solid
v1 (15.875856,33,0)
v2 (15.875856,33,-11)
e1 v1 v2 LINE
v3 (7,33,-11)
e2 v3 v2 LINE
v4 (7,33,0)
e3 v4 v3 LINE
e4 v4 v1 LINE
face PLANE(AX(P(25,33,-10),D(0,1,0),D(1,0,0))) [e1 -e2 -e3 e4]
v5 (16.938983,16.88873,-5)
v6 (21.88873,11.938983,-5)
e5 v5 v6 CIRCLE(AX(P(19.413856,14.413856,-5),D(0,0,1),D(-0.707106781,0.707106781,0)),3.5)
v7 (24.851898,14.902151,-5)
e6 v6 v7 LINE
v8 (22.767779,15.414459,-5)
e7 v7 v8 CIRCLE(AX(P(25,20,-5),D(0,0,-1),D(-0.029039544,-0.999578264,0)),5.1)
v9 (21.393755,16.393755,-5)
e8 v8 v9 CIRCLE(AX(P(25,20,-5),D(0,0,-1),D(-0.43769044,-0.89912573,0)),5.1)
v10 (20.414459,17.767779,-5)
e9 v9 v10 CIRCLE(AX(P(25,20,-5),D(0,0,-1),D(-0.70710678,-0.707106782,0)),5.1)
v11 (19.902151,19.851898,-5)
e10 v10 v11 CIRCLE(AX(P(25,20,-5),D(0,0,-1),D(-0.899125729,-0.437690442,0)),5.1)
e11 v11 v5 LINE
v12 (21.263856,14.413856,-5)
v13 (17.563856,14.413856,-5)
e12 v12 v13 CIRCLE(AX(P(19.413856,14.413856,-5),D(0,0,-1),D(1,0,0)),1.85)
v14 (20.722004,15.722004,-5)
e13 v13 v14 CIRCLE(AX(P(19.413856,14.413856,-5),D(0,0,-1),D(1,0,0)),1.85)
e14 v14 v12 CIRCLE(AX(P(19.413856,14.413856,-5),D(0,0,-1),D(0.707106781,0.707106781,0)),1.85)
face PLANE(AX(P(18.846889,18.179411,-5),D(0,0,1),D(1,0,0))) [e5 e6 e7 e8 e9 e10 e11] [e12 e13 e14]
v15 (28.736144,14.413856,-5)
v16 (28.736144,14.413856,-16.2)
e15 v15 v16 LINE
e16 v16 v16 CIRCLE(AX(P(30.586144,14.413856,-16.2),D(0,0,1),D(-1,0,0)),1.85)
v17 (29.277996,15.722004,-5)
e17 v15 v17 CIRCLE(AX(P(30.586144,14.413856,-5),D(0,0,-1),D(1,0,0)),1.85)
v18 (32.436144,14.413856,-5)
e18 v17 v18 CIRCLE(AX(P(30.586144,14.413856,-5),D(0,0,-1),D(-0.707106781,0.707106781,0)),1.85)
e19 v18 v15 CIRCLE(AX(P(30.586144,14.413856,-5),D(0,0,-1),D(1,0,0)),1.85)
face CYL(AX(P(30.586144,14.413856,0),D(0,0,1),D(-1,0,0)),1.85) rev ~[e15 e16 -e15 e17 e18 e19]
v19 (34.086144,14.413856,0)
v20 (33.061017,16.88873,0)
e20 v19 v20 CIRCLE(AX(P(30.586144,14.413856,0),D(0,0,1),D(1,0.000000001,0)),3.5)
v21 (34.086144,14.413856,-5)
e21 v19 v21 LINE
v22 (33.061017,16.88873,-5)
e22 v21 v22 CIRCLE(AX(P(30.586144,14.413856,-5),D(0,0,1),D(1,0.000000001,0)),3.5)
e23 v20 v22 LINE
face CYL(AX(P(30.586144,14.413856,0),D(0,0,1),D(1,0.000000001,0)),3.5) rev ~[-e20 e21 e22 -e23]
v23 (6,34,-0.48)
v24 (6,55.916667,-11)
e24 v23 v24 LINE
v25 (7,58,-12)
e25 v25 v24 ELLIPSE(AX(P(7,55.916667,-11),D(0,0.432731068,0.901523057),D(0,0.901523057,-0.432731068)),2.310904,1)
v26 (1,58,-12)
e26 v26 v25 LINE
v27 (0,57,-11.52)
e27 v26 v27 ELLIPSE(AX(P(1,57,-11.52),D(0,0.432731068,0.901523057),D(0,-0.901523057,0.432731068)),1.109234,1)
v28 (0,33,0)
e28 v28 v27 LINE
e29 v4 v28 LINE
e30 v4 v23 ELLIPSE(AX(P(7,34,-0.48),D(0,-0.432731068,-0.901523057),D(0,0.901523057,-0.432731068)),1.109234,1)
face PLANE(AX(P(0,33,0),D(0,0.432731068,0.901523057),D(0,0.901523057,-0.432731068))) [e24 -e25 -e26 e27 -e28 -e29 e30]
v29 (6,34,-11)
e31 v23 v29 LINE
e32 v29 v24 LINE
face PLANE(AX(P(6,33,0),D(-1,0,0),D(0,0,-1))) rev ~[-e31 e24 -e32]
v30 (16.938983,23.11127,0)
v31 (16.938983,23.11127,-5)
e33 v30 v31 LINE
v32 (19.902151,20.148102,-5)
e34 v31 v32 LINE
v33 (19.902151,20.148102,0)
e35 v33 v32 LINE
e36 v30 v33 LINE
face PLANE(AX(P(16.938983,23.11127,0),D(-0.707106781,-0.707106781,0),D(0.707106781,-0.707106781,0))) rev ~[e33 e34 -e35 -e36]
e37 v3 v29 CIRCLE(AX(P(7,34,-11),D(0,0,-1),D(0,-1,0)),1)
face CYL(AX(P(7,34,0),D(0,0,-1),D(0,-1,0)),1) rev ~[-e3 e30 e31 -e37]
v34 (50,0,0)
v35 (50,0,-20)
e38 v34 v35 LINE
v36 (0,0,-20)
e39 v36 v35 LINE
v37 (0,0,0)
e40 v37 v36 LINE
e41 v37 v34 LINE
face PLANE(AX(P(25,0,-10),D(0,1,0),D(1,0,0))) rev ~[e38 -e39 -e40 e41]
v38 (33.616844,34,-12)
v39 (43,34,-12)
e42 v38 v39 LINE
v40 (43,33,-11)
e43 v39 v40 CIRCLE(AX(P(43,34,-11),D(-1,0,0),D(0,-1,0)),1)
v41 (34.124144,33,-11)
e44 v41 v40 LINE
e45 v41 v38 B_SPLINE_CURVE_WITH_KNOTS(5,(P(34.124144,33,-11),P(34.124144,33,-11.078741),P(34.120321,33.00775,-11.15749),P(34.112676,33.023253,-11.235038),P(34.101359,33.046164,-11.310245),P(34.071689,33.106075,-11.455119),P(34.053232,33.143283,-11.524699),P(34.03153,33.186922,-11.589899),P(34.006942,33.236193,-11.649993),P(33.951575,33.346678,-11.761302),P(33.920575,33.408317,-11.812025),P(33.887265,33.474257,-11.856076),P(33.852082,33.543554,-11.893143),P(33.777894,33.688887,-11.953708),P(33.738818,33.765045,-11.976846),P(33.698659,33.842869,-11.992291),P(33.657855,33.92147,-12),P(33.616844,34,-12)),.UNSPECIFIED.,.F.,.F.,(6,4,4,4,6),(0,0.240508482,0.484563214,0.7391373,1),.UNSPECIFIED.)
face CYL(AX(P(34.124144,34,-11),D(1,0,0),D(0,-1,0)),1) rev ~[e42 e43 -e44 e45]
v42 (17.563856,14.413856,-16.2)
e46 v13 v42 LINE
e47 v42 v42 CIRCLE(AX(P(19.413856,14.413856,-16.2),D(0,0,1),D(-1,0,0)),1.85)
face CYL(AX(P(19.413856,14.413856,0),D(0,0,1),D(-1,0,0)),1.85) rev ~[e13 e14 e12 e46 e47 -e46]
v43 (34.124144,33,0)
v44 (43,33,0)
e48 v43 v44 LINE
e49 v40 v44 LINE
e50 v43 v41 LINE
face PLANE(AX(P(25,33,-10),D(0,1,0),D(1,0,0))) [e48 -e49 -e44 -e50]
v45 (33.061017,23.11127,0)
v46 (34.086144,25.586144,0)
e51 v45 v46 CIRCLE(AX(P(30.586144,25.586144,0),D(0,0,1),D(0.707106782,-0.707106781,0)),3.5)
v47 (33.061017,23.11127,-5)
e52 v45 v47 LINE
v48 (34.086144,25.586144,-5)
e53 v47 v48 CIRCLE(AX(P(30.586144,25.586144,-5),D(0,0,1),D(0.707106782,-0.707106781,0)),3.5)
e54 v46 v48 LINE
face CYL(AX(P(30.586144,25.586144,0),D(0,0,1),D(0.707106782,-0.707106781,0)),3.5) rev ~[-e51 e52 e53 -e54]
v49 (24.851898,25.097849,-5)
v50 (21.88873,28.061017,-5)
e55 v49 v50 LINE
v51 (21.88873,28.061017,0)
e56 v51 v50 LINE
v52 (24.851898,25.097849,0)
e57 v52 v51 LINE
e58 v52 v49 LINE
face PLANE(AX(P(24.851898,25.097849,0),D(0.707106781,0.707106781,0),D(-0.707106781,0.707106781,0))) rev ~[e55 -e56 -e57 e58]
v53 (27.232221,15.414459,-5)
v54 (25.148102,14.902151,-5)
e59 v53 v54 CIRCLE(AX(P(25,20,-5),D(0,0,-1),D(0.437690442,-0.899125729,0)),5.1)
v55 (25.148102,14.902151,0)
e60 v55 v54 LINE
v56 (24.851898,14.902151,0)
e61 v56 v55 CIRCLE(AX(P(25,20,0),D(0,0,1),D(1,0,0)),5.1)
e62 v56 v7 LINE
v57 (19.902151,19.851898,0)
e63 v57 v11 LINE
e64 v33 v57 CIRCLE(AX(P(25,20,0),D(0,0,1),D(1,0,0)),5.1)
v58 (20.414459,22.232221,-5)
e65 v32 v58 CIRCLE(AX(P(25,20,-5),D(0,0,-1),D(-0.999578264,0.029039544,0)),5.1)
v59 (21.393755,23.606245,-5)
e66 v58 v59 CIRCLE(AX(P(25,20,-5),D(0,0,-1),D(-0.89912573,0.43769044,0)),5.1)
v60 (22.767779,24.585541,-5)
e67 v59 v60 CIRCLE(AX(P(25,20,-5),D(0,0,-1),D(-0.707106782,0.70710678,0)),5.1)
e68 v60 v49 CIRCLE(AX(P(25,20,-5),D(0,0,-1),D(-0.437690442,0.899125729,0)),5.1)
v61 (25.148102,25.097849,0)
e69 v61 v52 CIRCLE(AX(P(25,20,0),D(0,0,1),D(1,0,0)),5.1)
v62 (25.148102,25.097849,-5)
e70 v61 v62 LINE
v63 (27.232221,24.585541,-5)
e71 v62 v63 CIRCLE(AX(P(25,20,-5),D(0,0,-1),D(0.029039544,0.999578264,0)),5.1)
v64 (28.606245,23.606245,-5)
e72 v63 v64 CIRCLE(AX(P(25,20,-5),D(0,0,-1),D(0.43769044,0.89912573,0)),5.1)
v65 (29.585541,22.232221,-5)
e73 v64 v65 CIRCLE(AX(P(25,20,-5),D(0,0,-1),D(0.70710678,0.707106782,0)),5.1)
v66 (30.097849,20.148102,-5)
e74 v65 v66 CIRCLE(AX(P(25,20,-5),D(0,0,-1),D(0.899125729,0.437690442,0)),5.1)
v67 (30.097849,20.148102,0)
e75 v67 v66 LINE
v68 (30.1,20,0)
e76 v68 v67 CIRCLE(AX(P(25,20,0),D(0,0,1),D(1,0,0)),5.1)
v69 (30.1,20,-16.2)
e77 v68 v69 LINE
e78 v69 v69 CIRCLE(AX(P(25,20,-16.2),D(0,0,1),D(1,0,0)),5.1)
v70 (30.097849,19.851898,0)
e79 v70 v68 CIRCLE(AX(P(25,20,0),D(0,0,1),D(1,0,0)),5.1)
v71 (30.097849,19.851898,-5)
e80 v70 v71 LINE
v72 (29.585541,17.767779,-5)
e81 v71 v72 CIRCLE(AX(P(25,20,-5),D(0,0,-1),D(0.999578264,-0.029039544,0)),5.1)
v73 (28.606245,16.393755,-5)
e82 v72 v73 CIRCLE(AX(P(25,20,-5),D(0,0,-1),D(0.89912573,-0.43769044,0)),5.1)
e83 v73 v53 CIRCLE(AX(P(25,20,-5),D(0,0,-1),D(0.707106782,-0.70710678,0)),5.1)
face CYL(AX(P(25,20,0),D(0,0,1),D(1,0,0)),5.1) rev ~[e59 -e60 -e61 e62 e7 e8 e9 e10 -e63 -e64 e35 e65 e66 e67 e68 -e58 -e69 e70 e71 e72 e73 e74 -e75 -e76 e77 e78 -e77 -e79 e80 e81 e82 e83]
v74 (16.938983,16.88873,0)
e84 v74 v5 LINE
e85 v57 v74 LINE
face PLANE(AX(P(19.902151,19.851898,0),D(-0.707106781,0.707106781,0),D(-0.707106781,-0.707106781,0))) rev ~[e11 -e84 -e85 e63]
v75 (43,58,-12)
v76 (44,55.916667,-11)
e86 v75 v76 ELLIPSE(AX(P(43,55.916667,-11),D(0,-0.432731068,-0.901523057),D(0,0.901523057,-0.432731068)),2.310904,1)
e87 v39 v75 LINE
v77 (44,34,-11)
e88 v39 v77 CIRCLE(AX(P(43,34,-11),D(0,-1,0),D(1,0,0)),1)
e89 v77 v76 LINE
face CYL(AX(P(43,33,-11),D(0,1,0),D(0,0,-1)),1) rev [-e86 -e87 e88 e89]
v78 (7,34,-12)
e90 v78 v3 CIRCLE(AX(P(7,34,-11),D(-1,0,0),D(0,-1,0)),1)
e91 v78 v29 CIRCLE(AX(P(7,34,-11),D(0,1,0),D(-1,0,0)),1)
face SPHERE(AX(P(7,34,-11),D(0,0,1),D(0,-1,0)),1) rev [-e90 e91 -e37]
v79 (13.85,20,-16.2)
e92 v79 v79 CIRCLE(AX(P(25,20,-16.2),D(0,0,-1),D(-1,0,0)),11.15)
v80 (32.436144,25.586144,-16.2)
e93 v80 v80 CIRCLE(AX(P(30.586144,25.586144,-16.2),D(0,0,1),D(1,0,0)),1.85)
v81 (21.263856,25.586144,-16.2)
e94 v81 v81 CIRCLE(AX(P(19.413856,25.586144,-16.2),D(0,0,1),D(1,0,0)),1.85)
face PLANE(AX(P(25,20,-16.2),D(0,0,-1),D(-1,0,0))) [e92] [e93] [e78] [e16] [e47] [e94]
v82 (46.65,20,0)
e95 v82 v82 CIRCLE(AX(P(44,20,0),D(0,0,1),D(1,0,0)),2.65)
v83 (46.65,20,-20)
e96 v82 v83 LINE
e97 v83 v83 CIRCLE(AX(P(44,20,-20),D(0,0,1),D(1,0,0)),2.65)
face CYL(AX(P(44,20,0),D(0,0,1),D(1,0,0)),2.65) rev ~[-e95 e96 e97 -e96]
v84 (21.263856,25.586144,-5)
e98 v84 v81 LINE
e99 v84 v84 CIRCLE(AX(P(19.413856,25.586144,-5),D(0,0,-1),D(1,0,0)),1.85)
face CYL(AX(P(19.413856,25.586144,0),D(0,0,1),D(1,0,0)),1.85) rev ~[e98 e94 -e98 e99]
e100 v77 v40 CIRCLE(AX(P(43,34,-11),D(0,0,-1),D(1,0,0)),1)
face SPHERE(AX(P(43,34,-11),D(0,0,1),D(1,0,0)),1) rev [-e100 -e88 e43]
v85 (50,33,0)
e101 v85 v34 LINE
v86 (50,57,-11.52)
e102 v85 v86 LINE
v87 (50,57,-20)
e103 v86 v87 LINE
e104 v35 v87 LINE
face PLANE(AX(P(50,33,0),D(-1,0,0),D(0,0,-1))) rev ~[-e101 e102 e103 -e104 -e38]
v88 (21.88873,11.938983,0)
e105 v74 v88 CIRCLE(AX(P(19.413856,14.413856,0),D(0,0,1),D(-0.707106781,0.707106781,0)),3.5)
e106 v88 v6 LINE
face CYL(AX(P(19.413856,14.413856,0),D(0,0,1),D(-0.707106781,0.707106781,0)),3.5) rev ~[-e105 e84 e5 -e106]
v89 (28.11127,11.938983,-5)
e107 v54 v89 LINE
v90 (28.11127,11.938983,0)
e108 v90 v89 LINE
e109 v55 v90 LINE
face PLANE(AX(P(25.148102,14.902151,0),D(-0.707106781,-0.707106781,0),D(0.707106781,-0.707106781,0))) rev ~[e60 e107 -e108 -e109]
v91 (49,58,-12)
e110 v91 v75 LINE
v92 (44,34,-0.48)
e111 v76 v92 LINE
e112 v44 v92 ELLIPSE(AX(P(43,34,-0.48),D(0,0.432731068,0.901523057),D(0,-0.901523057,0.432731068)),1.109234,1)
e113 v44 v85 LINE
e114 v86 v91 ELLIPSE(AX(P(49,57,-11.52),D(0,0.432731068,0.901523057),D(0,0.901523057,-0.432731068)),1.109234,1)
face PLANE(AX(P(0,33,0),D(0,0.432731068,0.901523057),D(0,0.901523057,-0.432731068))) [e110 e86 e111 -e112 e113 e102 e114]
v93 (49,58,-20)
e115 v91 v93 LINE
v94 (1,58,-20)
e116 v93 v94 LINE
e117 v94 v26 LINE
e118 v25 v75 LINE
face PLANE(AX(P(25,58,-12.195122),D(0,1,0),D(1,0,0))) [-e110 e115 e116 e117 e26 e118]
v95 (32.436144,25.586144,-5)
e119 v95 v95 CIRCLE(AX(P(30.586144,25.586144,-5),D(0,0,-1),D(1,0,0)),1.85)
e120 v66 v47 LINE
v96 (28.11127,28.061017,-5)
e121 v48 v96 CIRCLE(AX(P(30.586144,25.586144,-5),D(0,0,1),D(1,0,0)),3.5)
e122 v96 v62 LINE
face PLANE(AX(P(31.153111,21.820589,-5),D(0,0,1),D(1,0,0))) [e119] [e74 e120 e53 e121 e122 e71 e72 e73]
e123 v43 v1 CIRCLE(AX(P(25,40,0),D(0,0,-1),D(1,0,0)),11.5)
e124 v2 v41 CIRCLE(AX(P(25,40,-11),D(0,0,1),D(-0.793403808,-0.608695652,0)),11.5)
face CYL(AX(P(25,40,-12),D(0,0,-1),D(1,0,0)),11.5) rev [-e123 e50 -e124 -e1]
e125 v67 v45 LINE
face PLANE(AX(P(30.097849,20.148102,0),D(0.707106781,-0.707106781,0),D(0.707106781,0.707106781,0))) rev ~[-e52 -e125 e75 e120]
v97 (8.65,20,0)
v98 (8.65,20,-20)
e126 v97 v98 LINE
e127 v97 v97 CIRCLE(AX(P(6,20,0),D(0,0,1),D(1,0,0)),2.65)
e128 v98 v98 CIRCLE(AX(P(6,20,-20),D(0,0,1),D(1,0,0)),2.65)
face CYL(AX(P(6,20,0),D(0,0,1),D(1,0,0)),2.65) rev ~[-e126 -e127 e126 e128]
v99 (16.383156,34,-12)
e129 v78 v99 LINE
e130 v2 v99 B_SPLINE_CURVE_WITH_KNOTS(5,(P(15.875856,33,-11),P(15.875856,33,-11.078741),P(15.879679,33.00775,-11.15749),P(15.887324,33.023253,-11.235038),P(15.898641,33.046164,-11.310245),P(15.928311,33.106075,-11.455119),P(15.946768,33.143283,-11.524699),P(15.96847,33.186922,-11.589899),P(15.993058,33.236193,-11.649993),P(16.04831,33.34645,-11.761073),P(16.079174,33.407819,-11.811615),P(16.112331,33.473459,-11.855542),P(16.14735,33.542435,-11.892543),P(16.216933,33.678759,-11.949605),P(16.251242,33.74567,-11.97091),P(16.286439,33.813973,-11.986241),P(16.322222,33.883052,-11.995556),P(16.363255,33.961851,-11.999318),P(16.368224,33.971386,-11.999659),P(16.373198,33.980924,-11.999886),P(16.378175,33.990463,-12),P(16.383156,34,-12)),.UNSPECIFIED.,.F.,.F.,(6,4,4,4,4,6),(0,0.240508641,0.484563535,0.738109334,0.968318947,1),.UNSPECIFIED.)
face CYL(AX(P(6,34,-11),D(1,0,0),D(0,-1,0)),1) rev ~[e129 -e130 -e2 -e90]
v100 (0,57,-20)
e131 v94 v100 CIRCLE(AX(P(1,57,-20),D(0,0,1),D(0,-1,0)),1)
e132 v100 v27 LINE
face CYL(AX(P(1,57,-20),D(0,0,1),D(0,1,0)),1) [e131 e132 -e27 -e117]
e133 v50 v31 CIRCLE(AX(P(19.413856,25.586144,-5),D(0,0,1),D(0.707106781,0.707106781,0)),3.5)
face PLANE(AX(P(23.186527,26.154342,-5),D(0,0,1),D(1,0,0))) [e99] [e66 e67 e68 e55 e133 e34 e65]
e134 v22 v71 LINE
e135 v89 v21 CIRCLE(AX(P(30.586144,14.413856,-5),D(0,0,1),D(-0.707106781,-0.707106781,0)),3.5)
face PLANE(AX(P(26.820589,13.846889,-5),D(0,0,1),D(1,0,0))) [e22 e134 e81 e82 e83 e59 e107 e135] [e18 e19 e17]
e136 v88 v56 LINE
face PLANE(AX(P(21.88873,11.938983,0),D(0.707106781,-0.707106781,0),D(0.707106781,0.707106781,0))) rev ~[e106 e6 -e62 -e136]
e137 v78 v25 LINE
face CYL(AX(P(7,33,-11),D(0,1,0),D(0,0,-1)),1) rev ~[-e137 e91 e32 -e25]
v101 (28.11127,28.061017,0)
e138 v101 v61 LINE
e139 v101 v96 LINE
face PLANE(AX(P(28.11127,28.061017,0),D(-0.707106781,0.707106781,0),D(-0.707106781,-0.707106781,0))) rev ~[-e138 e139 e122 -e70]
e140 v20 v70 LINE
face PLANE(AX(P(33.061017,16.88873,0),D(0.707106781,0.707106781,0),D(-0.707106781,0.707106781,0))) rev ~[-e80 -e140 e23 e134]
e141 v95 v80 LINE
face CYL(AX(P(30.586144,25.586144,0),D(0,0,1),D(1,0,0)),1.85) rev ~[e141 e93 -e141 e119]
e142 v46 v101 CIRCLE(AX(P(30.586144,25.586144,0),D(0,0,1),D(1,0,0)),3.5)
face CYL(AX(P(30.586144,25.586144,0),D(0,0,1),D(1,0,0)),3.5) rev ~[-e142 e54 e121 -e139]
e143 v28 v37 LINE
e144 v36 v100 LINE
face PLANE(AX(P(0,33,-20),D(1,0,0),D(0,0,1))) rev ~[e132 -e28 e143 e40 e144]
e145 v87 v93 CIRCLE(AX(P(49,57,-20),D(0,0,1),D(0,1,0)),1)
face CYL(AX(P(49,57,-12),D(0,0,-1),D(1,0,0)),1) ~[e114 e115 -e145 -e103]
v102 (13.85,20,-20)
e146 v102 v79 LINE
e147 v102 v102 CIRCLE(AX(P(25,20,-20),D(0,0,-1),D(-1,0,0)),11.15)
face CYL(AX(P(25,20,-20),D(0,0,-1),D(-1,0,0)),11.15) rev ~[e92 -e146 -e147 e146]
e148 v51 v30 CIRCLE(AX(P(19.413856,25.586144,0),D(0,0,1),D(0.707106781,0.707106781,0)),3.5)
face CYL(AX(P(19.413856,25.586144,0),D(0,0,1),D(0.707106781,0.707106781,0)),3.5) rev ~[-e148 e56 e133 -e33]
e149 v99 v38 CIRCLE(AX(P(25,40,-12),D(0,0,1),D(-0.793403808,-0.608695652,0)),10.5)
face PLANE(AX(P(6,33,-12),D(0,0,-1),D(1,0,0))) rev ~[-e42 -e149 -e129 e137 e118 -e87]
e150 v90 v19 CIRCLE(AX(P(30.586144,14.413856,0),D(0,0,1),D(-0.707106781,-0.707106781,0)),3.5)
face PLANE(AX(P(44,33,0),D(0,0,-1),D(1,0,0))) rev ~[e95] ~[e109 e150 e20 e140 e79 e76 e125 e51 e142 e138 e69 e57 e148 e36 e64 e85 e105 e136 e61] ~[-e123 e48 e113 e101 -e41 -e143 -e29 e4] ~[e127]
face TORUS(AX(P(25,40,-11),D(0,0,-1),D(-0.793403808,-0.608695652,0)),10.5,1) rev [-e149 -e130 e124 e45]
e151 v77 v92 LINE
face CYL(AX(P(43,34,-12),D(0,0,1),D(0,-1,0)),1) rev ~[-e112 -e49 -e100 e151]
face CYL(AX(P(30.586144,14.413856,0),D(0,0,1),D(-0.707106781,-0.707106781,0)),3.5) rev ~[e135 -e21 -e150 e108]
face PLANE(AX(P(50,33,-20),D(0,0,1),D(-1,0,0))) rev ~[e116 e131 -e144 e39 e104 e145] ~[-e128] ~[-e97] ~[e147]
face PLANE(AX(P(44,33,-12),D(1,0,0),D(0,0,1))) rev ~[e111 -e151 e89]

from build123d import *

# Parameters (mm, degrees)
SKETCH1_W           = 50
SKETCH1_H           = 20
BOSS_EXTRUDE1_DEPTH = 33
SKETCH2_R           = 2.65
CUT_EXTRUDE1_DEPTH  = 64.158530699
BOSS_EXTRUDE2_DEPTH = 25
CUT_EXTRUDE8_DEPTH  = 80.14543575
SKETCH10_R          = 11.5
CUT_EXTRUDE10_DEPTH = 78.5112895
FILLET1_R           = 1
SKETCH3_R           = 5.1
SKETCH3_R_2         = 1.85
CUT_EXTRUDE11_DEPTH = 80.14543575
SKETCH11_R          = 11.15
CUT_EXTRUDE12_DEPTH = 3.8
CUT_EXTRUDE14_DEPTH = 5


with BuildPart() as part:
    # Sketch1 → Boss-Extrude1 (new body)
    with BuildSketch(Plane(origin=(0, 0, 0), x_dir=(1, 0, 0), z_dir=(0, 1, 0))):
        with Locations((25, 10)):
            Rectangle(SKETCH1_W, SKETCH1_H)
    extrude(amount=BOSS_EXTRUDE1_DEPTH)

    # Sketch2 → Cut-Extrude1 (cut, through all)
    with BuildSketch(Plane.XY):
        with Locations((6, 20)):
            Circle(SKETCH2_R)
        with Locations((44, 20)):
            Circle(SKETCH2_R)
    extrude(amount=-CUT_EXTRUDE1_DEPTH, mode=Mode.SUBTRACT)

    # Sketch7 → Boss-Extrude2 (add)
    with BuildSketch(Plane(origin=(0, 33, 0), x_dir=(1, 0, 0), z_dir=(0, 1, 0))):
        Polygon((50, 0), (50, 20), (0, 20), (0, 0), (6, 0), (6, 12), (44, 12), (44, 0), align=None)
    extrude(amount=BOSS_EXTRUDE2_DEPTH)

    # Sketch8 → Cut-Extrude8 (cut, through all)
    with BuildSketch(Plane.ZY):
        Polygon((0, 58), (0, 33), (-12, 58), align=None)
    extrude(amount=-CUT_EXTRUDE8_DEPTH, mode=Mode.SUBTRACT)

    # Sketch10 → Cut-Extrude10 (cut, through all)
    with BuildSketch(Plane.XY.offset(-12)):
        with Locations((25, 40)):
            Circle(SKETCH10_R)
    extrude(amount=CUT_EXTRUDE10_DEPTH, mode=Mode.SUBTRACT)

    # Fillet1
    fillet1_edges = [part.edges().sort_by_distance(p)[0] for p in [
        (6, 33, -6),
        (10.937928102, 33, -12),
        (6, 45.5, -12),
        (44, 33, -6),
        (44, 45.5, -12),
        (0, 58, -16),
        (50, 58, -16),
        (39.062071898, 33, -12),
        (25, 28.5, -12),
    ]]
    fillet(fillet1_edges, radius=FILLET1_R)

    # Sketch3 → Cut-Extrude11 (cut, through all)
    with BuildSketch(Plane.XY):
        with Locations((25, 20)):
            Circle(SKETCH3_R)
        with Locations((19.413856429, 25.586143571)):
            Circle(SKETCH3_R_2)
        with Locations((30.586143571, 25.586143571)):
            Circle(SKETCH3_R_2)
        with Locations(Location((30.586143571, 14.413856429, 0), (0, 0, 180))):
            Circle(SKETCH3_R_2)
        with Locations(Location((19.413856429, 14.413856429, 0), (0, 0, 180))):
            Circle(SKETCH3_R_2)
    extrude(amount=-CUT_EXTRUDE11_DEPTH, mode=Mode.SUBTRACT)

    # Sketch11 → Cut-Extrude12 (cut)
    with BuildSketch(Plane(origin=(0, 0, -20), x_dir=(-1, 0, 0), z_dir=(0, 0, -1))):
        with Locations((-25, 20)):
            Circle(SKETCH11_R)
    extrude(amount=-CUT_EXTRUDE12_DEPTH, mode=Mode.SUBTRACT)

    # Sketch12 → Cut-Extrude14 (cut)
    # profile 1 of 16: a face of its own
    with BuildSketch(Plane.XY):
        with BuildLine():
            ThreePointArc((21.888730163, 28.061017306), (16.938982694, 28.061017306), (16.938982694, 23.111269837))
            Line((16.938982694, 23.111269837), (19.413856429, 25.586143571))
            Line((19.413856429, 25.586143571), (21.888730163, 28.061017306))
        make_face()
    # profile 2 of 16: a face of its own
    with BuildSketch(Plane.XY):
        with BuildLine():
            Line((21.888730163, 28.061017306), (19.413856429, 25.586143571))
            Line((19.413856429, 25.586143571), (21.393755416, 23.606244584))
            ThreePointArc((21.393755416, 23.606244584), (22.039987111, 24.153110124), (22.76777875, 24.585541221))
            ThreePointArc((22.76777875, 24.585541221), (22.877144471, 25.080539044), (22.913856429, 25.586143571))
            ThreePointArc((22.913856429, 25.586143571), (22.647434792, 26.925535585), (21.888730163, 28.061017306))
        make_face()
    # profile 3 of 16: a face of its own
    with BuildSketch(Plane.XY):
        with BuildLine():
            Line((24.851898324, 25.097849144), (21.888730163, 28.061017306))
            ThreePointArc((21.888730163, 28.061017306), (22.647434792, 26.925535585), (22.913856429, 25.586143571))
            ThreePointArc((22.913856429, 25.586143571), (22.877144471, 25.080539044), (22.76777875, 24.585541221))
            ThreePointArc((22.76777875, 24.585541221), (23.78258505, 24.952565077), (24.851898324, 25.097849144))
        make_face()
    # profile 4 of 16: a face of its own
    with BuildSketch(Plane.XY):
        with BuildLine():
            Line((19.413856429, 25.586143571), (16.938982694, 23.111269837))
            ThreePointArc((16.938982694, 23.111269837), (18.555631148, 22.192996158), (20.414458779, 22.23222125))
            ThreePointArc((20.414458779, 22.23222125), (20.846889876, 22.960012889), (21.393755416, 23.606244584))
            Line((21.393755416, 23.606244584), (19.413856429, 25.586143571))
        make_face()
    # profile 5 of 16: a face of its own
    with BuildSketch(Plane.XY):
        with BuildLine():
            Line((16.938982694, 23.111269837), (19.902150856, 20.148101676))
            ThreePointArc((19.902150856, 20.148101676), (20.047434923, 21.21741495), (20.414458779, 22.23222125))
            ThreePointArc((20.414458779, 22.23222125), (18.555631148, 22.192996158), (16.938982694, 23.111269837))
        make_face()
    # profile 6 of 16: a face of its own
    with BuildSketch(Plane.XY):
        with BuildLine():
            ThreePointArc((25.148101676, 25.097849144), (26.21741495, 24.952565077), (27.23222125, 24.585541221))
            ThreePointArc((27.23222125, 24.585541221), (27.192996158, 26.444368852), (28.111269837, 28.061017306))
            Line((28.111269837, 28.061017306), (25.148101676, 25.097849144))
        make_face()
    # profile 7 of 16: a face of its own
    with BuildSketch(Plane.XY):
        with BuildLine():
            ThreePointArc((27.23222125, 24.585541221), (27.960012889, 24.153110124), (28.606244584, 23.606244584))
            Line((28.606244584, 23.606244584), (30.586143571, 25.586143571))
            Line((30.586143571, 25.586143571), (28.111269837, 28.061017306))
            ThreePointArc((28.111269837, 28.061017306), (27.192996158, 26.444368852), (27.23222125, 24.585541221))
        make_face()
    # profile 8 of 16: a face of its own
    with BuildSketch(Plane.XY):
        with BuildLine():
            Line((28.111269837, 28.061017306), (30.586143571, 25.586143571))
            Line((30.586143571, 25.586143571), (33.061017306, 23.111269837))
            ThreePointArc((33.061017306, 23.111269837), (33.819721935, 24.246751558), (34.086143571, 25.586143571))
            ThreePointArc((34.086143571, 25.586143571), (31.925535585, 28.819721935), (28.111269837, 28.061017306))
        make_face()
    # profile 9 of 16: a face of its own
    with BuildSketch(Plane.XY):
        with BuildLine():
            Line((30.586143571, 25.586143571), (28.606244584, 23.606244584))
            ThreePointArc((28.606244584, 23.606244584), (29.153110124, 22.960012889), (29.585541221, 22.23222125))
            ThreePointArc((29.585541221, 22.23222125), (31.444368852, 22.192996158), (33.061017306, 23.111269837))
            Line((33.061017306, 23.111269837), (30.586143571, 25.586143571))
        make_face()
    # profile 10 of 16: a face of its own
    with BuildSketch(Plane.XY):
        with BuildLine():
            ThreePointArc((33.061017306, 23.111269837), (31.444368852, 22.192996158), (29.585541221, 22.23222125))
            ThreePointArc((29.585541221, 22.23222125), (29.952565077, 21.21741495), (30.097849144, 20.148101676))
            Line((30.097849144, 20.148101676), (33.061017306, 23.111269837))
        make_face()
    # profile 11 of 16: a face of its own
    with BuildSketch(Plane.XY):
        with BuildLine():
            ThreePointArc((27.23222125, 15.414458779), (27.192996158, 13.555631148), (28.111269837, 11.938982694))
            ThreePointArc((28.111269837, 11.938982694), (31.925535585, 11.180278065), (34.086143571, 14.413856429))
            ThreePointArc((34.086143571, 14.413856429), (33.819721928, 15.753248458), (33.061017281, 16.888730188))
            ThreePointArc((33.061017281, 16.888730188), (31.444368835, 17.807003846), (29.585541221, 17.76777875))
            ThreePointArc((29.585541221, 17.76777875), (29.153110124, 17.039987111), (28.606244584, 16.393755416))
            ThreePointArc((28.606244584, 16.393755416), (27.960012889, 15.846889876), (27.23222125, 15.414458779))
        make_face()
        with BuildLine():
            ThreePointArc((32.436143571, 14.413856429), (29.878179221, 12.704679293), (29.277996026, 15.722003974))
            ThreePointArc((29.277996026, 15.722003974), (31.294107921, 16.123033564), (32.436143571, 14.413856429))
        make_face(mode=Mode.SUBTRACT)
    # profile 12 of 16: a face of its own
    with BuildSketch(Plane.XY):
        with BuildLine():
            ThreePointArc((27.23222125, 15.414458779), (26.21741495, 15.047434923), (25.148101676, 14.902150856))
            Line((25.148101676, 14.902150856), (28.111269837, 11.938982694))
            ThreePointArc((28.111269837, 11.938982694), (27.192996158, 13.555631148), (27.23222125, 15.414458779))
        make_face()
    # profile 13 of 16: a face of its own
    with BuildSketch(Plane.XY):
        with BuildLine():
            ThreePointArc((22.76777875, 15.414458779), (22.039987111, 15.846889876), (21.393755416, 16.393755416))
            ThreePointArc((21.393755416, 16.393755416), (20.846889876, 17.039987111), (20.414458779, 17.76777875))
            ThreePointArc((20.414458779, 17.76777875), (18.555631148, 17.807003842), (16.938982694, 16.888730163))
            ThreePointArc((16.938982694, 16.888730163), (16.9389827, 11.938982689), (21.888730174, 11.938982705))
            ThreePointArc((21.888730174, 11.938982705), (22.647434795, 13.074464422), (22.913856429, 14.413856429))
            ThreePointArc((22.913856429, 14.413856429), (22.877144471, 14.919460956), (22.76777875, 15.414458779))
        make_face()
        with BuildLine():
            ThreePointArc((21.263856429, 14.413856429), (17.704679293, 13.705892079), (20.722003974, 15.722003974))
            ThreePointArc((20.722003974, 15.722003974), (21.123033564, 15.121820779), (21.263856429, 14.413856429))
        make_face(mode=Mode.SUBTRACT)
    # profile 14 of 16: a face of its own
    with BuildSketch(Plane.XY):
        with BuildLine():
            ThreePointArc((24.851898324, 14.902150856), (23.78258505, 15.047434923), (22.76777875, 15.414458779))
            ThreePointArc((22.76777875, 15.414458779), (22.877144471, 14.919460956), (22.913856429, 14.413856429))
            ThreePointArc((22.913856429, 14.413856429), (22.647434795, 13.074464422), (21.888730174, 11.938982705))
            Line((21.888730174, 11.938982705), (24.851898324, 14.902150856))
        make_face()
    # profile 15 of 16: a face of its own
    with BuildSketch(Plane.XY):
        with BuildLine():
            ThreePointArc((16.938982694, 16.888730163), (18.555631148, 17.807003842), (20.414458779, 17.76777875))
            ThreePointArc((20.414458779, 17.76777875), (20.047434923, 18.78258505), (19.902150856, 19.851898324))
            Line((19.902150856, 19.851898324), (16.938982694, 16.888730163))
        make_face()
    # profile 16 of 16: a face of its own
    with BuildSketch(Plane.XY):
        with BuildLine():
            Line((33.061017281, 16.888730188), (30.097849144, 19.851898324))
            ThreePointArc((30.097849144, 19.851898324), (29.952565077, 18.78258505), (29.585541221, 17.76777875))
            ThreePointArc((29.585541221, 17.76777875), (31.444368835, 17.807003846), (33.061017281, 16.888730188))
        make_face()
    extrude(amount=-CUT_EXTRUDE14_DEPTH, mode=Mode.SUBTRACT)


solid = part.part
